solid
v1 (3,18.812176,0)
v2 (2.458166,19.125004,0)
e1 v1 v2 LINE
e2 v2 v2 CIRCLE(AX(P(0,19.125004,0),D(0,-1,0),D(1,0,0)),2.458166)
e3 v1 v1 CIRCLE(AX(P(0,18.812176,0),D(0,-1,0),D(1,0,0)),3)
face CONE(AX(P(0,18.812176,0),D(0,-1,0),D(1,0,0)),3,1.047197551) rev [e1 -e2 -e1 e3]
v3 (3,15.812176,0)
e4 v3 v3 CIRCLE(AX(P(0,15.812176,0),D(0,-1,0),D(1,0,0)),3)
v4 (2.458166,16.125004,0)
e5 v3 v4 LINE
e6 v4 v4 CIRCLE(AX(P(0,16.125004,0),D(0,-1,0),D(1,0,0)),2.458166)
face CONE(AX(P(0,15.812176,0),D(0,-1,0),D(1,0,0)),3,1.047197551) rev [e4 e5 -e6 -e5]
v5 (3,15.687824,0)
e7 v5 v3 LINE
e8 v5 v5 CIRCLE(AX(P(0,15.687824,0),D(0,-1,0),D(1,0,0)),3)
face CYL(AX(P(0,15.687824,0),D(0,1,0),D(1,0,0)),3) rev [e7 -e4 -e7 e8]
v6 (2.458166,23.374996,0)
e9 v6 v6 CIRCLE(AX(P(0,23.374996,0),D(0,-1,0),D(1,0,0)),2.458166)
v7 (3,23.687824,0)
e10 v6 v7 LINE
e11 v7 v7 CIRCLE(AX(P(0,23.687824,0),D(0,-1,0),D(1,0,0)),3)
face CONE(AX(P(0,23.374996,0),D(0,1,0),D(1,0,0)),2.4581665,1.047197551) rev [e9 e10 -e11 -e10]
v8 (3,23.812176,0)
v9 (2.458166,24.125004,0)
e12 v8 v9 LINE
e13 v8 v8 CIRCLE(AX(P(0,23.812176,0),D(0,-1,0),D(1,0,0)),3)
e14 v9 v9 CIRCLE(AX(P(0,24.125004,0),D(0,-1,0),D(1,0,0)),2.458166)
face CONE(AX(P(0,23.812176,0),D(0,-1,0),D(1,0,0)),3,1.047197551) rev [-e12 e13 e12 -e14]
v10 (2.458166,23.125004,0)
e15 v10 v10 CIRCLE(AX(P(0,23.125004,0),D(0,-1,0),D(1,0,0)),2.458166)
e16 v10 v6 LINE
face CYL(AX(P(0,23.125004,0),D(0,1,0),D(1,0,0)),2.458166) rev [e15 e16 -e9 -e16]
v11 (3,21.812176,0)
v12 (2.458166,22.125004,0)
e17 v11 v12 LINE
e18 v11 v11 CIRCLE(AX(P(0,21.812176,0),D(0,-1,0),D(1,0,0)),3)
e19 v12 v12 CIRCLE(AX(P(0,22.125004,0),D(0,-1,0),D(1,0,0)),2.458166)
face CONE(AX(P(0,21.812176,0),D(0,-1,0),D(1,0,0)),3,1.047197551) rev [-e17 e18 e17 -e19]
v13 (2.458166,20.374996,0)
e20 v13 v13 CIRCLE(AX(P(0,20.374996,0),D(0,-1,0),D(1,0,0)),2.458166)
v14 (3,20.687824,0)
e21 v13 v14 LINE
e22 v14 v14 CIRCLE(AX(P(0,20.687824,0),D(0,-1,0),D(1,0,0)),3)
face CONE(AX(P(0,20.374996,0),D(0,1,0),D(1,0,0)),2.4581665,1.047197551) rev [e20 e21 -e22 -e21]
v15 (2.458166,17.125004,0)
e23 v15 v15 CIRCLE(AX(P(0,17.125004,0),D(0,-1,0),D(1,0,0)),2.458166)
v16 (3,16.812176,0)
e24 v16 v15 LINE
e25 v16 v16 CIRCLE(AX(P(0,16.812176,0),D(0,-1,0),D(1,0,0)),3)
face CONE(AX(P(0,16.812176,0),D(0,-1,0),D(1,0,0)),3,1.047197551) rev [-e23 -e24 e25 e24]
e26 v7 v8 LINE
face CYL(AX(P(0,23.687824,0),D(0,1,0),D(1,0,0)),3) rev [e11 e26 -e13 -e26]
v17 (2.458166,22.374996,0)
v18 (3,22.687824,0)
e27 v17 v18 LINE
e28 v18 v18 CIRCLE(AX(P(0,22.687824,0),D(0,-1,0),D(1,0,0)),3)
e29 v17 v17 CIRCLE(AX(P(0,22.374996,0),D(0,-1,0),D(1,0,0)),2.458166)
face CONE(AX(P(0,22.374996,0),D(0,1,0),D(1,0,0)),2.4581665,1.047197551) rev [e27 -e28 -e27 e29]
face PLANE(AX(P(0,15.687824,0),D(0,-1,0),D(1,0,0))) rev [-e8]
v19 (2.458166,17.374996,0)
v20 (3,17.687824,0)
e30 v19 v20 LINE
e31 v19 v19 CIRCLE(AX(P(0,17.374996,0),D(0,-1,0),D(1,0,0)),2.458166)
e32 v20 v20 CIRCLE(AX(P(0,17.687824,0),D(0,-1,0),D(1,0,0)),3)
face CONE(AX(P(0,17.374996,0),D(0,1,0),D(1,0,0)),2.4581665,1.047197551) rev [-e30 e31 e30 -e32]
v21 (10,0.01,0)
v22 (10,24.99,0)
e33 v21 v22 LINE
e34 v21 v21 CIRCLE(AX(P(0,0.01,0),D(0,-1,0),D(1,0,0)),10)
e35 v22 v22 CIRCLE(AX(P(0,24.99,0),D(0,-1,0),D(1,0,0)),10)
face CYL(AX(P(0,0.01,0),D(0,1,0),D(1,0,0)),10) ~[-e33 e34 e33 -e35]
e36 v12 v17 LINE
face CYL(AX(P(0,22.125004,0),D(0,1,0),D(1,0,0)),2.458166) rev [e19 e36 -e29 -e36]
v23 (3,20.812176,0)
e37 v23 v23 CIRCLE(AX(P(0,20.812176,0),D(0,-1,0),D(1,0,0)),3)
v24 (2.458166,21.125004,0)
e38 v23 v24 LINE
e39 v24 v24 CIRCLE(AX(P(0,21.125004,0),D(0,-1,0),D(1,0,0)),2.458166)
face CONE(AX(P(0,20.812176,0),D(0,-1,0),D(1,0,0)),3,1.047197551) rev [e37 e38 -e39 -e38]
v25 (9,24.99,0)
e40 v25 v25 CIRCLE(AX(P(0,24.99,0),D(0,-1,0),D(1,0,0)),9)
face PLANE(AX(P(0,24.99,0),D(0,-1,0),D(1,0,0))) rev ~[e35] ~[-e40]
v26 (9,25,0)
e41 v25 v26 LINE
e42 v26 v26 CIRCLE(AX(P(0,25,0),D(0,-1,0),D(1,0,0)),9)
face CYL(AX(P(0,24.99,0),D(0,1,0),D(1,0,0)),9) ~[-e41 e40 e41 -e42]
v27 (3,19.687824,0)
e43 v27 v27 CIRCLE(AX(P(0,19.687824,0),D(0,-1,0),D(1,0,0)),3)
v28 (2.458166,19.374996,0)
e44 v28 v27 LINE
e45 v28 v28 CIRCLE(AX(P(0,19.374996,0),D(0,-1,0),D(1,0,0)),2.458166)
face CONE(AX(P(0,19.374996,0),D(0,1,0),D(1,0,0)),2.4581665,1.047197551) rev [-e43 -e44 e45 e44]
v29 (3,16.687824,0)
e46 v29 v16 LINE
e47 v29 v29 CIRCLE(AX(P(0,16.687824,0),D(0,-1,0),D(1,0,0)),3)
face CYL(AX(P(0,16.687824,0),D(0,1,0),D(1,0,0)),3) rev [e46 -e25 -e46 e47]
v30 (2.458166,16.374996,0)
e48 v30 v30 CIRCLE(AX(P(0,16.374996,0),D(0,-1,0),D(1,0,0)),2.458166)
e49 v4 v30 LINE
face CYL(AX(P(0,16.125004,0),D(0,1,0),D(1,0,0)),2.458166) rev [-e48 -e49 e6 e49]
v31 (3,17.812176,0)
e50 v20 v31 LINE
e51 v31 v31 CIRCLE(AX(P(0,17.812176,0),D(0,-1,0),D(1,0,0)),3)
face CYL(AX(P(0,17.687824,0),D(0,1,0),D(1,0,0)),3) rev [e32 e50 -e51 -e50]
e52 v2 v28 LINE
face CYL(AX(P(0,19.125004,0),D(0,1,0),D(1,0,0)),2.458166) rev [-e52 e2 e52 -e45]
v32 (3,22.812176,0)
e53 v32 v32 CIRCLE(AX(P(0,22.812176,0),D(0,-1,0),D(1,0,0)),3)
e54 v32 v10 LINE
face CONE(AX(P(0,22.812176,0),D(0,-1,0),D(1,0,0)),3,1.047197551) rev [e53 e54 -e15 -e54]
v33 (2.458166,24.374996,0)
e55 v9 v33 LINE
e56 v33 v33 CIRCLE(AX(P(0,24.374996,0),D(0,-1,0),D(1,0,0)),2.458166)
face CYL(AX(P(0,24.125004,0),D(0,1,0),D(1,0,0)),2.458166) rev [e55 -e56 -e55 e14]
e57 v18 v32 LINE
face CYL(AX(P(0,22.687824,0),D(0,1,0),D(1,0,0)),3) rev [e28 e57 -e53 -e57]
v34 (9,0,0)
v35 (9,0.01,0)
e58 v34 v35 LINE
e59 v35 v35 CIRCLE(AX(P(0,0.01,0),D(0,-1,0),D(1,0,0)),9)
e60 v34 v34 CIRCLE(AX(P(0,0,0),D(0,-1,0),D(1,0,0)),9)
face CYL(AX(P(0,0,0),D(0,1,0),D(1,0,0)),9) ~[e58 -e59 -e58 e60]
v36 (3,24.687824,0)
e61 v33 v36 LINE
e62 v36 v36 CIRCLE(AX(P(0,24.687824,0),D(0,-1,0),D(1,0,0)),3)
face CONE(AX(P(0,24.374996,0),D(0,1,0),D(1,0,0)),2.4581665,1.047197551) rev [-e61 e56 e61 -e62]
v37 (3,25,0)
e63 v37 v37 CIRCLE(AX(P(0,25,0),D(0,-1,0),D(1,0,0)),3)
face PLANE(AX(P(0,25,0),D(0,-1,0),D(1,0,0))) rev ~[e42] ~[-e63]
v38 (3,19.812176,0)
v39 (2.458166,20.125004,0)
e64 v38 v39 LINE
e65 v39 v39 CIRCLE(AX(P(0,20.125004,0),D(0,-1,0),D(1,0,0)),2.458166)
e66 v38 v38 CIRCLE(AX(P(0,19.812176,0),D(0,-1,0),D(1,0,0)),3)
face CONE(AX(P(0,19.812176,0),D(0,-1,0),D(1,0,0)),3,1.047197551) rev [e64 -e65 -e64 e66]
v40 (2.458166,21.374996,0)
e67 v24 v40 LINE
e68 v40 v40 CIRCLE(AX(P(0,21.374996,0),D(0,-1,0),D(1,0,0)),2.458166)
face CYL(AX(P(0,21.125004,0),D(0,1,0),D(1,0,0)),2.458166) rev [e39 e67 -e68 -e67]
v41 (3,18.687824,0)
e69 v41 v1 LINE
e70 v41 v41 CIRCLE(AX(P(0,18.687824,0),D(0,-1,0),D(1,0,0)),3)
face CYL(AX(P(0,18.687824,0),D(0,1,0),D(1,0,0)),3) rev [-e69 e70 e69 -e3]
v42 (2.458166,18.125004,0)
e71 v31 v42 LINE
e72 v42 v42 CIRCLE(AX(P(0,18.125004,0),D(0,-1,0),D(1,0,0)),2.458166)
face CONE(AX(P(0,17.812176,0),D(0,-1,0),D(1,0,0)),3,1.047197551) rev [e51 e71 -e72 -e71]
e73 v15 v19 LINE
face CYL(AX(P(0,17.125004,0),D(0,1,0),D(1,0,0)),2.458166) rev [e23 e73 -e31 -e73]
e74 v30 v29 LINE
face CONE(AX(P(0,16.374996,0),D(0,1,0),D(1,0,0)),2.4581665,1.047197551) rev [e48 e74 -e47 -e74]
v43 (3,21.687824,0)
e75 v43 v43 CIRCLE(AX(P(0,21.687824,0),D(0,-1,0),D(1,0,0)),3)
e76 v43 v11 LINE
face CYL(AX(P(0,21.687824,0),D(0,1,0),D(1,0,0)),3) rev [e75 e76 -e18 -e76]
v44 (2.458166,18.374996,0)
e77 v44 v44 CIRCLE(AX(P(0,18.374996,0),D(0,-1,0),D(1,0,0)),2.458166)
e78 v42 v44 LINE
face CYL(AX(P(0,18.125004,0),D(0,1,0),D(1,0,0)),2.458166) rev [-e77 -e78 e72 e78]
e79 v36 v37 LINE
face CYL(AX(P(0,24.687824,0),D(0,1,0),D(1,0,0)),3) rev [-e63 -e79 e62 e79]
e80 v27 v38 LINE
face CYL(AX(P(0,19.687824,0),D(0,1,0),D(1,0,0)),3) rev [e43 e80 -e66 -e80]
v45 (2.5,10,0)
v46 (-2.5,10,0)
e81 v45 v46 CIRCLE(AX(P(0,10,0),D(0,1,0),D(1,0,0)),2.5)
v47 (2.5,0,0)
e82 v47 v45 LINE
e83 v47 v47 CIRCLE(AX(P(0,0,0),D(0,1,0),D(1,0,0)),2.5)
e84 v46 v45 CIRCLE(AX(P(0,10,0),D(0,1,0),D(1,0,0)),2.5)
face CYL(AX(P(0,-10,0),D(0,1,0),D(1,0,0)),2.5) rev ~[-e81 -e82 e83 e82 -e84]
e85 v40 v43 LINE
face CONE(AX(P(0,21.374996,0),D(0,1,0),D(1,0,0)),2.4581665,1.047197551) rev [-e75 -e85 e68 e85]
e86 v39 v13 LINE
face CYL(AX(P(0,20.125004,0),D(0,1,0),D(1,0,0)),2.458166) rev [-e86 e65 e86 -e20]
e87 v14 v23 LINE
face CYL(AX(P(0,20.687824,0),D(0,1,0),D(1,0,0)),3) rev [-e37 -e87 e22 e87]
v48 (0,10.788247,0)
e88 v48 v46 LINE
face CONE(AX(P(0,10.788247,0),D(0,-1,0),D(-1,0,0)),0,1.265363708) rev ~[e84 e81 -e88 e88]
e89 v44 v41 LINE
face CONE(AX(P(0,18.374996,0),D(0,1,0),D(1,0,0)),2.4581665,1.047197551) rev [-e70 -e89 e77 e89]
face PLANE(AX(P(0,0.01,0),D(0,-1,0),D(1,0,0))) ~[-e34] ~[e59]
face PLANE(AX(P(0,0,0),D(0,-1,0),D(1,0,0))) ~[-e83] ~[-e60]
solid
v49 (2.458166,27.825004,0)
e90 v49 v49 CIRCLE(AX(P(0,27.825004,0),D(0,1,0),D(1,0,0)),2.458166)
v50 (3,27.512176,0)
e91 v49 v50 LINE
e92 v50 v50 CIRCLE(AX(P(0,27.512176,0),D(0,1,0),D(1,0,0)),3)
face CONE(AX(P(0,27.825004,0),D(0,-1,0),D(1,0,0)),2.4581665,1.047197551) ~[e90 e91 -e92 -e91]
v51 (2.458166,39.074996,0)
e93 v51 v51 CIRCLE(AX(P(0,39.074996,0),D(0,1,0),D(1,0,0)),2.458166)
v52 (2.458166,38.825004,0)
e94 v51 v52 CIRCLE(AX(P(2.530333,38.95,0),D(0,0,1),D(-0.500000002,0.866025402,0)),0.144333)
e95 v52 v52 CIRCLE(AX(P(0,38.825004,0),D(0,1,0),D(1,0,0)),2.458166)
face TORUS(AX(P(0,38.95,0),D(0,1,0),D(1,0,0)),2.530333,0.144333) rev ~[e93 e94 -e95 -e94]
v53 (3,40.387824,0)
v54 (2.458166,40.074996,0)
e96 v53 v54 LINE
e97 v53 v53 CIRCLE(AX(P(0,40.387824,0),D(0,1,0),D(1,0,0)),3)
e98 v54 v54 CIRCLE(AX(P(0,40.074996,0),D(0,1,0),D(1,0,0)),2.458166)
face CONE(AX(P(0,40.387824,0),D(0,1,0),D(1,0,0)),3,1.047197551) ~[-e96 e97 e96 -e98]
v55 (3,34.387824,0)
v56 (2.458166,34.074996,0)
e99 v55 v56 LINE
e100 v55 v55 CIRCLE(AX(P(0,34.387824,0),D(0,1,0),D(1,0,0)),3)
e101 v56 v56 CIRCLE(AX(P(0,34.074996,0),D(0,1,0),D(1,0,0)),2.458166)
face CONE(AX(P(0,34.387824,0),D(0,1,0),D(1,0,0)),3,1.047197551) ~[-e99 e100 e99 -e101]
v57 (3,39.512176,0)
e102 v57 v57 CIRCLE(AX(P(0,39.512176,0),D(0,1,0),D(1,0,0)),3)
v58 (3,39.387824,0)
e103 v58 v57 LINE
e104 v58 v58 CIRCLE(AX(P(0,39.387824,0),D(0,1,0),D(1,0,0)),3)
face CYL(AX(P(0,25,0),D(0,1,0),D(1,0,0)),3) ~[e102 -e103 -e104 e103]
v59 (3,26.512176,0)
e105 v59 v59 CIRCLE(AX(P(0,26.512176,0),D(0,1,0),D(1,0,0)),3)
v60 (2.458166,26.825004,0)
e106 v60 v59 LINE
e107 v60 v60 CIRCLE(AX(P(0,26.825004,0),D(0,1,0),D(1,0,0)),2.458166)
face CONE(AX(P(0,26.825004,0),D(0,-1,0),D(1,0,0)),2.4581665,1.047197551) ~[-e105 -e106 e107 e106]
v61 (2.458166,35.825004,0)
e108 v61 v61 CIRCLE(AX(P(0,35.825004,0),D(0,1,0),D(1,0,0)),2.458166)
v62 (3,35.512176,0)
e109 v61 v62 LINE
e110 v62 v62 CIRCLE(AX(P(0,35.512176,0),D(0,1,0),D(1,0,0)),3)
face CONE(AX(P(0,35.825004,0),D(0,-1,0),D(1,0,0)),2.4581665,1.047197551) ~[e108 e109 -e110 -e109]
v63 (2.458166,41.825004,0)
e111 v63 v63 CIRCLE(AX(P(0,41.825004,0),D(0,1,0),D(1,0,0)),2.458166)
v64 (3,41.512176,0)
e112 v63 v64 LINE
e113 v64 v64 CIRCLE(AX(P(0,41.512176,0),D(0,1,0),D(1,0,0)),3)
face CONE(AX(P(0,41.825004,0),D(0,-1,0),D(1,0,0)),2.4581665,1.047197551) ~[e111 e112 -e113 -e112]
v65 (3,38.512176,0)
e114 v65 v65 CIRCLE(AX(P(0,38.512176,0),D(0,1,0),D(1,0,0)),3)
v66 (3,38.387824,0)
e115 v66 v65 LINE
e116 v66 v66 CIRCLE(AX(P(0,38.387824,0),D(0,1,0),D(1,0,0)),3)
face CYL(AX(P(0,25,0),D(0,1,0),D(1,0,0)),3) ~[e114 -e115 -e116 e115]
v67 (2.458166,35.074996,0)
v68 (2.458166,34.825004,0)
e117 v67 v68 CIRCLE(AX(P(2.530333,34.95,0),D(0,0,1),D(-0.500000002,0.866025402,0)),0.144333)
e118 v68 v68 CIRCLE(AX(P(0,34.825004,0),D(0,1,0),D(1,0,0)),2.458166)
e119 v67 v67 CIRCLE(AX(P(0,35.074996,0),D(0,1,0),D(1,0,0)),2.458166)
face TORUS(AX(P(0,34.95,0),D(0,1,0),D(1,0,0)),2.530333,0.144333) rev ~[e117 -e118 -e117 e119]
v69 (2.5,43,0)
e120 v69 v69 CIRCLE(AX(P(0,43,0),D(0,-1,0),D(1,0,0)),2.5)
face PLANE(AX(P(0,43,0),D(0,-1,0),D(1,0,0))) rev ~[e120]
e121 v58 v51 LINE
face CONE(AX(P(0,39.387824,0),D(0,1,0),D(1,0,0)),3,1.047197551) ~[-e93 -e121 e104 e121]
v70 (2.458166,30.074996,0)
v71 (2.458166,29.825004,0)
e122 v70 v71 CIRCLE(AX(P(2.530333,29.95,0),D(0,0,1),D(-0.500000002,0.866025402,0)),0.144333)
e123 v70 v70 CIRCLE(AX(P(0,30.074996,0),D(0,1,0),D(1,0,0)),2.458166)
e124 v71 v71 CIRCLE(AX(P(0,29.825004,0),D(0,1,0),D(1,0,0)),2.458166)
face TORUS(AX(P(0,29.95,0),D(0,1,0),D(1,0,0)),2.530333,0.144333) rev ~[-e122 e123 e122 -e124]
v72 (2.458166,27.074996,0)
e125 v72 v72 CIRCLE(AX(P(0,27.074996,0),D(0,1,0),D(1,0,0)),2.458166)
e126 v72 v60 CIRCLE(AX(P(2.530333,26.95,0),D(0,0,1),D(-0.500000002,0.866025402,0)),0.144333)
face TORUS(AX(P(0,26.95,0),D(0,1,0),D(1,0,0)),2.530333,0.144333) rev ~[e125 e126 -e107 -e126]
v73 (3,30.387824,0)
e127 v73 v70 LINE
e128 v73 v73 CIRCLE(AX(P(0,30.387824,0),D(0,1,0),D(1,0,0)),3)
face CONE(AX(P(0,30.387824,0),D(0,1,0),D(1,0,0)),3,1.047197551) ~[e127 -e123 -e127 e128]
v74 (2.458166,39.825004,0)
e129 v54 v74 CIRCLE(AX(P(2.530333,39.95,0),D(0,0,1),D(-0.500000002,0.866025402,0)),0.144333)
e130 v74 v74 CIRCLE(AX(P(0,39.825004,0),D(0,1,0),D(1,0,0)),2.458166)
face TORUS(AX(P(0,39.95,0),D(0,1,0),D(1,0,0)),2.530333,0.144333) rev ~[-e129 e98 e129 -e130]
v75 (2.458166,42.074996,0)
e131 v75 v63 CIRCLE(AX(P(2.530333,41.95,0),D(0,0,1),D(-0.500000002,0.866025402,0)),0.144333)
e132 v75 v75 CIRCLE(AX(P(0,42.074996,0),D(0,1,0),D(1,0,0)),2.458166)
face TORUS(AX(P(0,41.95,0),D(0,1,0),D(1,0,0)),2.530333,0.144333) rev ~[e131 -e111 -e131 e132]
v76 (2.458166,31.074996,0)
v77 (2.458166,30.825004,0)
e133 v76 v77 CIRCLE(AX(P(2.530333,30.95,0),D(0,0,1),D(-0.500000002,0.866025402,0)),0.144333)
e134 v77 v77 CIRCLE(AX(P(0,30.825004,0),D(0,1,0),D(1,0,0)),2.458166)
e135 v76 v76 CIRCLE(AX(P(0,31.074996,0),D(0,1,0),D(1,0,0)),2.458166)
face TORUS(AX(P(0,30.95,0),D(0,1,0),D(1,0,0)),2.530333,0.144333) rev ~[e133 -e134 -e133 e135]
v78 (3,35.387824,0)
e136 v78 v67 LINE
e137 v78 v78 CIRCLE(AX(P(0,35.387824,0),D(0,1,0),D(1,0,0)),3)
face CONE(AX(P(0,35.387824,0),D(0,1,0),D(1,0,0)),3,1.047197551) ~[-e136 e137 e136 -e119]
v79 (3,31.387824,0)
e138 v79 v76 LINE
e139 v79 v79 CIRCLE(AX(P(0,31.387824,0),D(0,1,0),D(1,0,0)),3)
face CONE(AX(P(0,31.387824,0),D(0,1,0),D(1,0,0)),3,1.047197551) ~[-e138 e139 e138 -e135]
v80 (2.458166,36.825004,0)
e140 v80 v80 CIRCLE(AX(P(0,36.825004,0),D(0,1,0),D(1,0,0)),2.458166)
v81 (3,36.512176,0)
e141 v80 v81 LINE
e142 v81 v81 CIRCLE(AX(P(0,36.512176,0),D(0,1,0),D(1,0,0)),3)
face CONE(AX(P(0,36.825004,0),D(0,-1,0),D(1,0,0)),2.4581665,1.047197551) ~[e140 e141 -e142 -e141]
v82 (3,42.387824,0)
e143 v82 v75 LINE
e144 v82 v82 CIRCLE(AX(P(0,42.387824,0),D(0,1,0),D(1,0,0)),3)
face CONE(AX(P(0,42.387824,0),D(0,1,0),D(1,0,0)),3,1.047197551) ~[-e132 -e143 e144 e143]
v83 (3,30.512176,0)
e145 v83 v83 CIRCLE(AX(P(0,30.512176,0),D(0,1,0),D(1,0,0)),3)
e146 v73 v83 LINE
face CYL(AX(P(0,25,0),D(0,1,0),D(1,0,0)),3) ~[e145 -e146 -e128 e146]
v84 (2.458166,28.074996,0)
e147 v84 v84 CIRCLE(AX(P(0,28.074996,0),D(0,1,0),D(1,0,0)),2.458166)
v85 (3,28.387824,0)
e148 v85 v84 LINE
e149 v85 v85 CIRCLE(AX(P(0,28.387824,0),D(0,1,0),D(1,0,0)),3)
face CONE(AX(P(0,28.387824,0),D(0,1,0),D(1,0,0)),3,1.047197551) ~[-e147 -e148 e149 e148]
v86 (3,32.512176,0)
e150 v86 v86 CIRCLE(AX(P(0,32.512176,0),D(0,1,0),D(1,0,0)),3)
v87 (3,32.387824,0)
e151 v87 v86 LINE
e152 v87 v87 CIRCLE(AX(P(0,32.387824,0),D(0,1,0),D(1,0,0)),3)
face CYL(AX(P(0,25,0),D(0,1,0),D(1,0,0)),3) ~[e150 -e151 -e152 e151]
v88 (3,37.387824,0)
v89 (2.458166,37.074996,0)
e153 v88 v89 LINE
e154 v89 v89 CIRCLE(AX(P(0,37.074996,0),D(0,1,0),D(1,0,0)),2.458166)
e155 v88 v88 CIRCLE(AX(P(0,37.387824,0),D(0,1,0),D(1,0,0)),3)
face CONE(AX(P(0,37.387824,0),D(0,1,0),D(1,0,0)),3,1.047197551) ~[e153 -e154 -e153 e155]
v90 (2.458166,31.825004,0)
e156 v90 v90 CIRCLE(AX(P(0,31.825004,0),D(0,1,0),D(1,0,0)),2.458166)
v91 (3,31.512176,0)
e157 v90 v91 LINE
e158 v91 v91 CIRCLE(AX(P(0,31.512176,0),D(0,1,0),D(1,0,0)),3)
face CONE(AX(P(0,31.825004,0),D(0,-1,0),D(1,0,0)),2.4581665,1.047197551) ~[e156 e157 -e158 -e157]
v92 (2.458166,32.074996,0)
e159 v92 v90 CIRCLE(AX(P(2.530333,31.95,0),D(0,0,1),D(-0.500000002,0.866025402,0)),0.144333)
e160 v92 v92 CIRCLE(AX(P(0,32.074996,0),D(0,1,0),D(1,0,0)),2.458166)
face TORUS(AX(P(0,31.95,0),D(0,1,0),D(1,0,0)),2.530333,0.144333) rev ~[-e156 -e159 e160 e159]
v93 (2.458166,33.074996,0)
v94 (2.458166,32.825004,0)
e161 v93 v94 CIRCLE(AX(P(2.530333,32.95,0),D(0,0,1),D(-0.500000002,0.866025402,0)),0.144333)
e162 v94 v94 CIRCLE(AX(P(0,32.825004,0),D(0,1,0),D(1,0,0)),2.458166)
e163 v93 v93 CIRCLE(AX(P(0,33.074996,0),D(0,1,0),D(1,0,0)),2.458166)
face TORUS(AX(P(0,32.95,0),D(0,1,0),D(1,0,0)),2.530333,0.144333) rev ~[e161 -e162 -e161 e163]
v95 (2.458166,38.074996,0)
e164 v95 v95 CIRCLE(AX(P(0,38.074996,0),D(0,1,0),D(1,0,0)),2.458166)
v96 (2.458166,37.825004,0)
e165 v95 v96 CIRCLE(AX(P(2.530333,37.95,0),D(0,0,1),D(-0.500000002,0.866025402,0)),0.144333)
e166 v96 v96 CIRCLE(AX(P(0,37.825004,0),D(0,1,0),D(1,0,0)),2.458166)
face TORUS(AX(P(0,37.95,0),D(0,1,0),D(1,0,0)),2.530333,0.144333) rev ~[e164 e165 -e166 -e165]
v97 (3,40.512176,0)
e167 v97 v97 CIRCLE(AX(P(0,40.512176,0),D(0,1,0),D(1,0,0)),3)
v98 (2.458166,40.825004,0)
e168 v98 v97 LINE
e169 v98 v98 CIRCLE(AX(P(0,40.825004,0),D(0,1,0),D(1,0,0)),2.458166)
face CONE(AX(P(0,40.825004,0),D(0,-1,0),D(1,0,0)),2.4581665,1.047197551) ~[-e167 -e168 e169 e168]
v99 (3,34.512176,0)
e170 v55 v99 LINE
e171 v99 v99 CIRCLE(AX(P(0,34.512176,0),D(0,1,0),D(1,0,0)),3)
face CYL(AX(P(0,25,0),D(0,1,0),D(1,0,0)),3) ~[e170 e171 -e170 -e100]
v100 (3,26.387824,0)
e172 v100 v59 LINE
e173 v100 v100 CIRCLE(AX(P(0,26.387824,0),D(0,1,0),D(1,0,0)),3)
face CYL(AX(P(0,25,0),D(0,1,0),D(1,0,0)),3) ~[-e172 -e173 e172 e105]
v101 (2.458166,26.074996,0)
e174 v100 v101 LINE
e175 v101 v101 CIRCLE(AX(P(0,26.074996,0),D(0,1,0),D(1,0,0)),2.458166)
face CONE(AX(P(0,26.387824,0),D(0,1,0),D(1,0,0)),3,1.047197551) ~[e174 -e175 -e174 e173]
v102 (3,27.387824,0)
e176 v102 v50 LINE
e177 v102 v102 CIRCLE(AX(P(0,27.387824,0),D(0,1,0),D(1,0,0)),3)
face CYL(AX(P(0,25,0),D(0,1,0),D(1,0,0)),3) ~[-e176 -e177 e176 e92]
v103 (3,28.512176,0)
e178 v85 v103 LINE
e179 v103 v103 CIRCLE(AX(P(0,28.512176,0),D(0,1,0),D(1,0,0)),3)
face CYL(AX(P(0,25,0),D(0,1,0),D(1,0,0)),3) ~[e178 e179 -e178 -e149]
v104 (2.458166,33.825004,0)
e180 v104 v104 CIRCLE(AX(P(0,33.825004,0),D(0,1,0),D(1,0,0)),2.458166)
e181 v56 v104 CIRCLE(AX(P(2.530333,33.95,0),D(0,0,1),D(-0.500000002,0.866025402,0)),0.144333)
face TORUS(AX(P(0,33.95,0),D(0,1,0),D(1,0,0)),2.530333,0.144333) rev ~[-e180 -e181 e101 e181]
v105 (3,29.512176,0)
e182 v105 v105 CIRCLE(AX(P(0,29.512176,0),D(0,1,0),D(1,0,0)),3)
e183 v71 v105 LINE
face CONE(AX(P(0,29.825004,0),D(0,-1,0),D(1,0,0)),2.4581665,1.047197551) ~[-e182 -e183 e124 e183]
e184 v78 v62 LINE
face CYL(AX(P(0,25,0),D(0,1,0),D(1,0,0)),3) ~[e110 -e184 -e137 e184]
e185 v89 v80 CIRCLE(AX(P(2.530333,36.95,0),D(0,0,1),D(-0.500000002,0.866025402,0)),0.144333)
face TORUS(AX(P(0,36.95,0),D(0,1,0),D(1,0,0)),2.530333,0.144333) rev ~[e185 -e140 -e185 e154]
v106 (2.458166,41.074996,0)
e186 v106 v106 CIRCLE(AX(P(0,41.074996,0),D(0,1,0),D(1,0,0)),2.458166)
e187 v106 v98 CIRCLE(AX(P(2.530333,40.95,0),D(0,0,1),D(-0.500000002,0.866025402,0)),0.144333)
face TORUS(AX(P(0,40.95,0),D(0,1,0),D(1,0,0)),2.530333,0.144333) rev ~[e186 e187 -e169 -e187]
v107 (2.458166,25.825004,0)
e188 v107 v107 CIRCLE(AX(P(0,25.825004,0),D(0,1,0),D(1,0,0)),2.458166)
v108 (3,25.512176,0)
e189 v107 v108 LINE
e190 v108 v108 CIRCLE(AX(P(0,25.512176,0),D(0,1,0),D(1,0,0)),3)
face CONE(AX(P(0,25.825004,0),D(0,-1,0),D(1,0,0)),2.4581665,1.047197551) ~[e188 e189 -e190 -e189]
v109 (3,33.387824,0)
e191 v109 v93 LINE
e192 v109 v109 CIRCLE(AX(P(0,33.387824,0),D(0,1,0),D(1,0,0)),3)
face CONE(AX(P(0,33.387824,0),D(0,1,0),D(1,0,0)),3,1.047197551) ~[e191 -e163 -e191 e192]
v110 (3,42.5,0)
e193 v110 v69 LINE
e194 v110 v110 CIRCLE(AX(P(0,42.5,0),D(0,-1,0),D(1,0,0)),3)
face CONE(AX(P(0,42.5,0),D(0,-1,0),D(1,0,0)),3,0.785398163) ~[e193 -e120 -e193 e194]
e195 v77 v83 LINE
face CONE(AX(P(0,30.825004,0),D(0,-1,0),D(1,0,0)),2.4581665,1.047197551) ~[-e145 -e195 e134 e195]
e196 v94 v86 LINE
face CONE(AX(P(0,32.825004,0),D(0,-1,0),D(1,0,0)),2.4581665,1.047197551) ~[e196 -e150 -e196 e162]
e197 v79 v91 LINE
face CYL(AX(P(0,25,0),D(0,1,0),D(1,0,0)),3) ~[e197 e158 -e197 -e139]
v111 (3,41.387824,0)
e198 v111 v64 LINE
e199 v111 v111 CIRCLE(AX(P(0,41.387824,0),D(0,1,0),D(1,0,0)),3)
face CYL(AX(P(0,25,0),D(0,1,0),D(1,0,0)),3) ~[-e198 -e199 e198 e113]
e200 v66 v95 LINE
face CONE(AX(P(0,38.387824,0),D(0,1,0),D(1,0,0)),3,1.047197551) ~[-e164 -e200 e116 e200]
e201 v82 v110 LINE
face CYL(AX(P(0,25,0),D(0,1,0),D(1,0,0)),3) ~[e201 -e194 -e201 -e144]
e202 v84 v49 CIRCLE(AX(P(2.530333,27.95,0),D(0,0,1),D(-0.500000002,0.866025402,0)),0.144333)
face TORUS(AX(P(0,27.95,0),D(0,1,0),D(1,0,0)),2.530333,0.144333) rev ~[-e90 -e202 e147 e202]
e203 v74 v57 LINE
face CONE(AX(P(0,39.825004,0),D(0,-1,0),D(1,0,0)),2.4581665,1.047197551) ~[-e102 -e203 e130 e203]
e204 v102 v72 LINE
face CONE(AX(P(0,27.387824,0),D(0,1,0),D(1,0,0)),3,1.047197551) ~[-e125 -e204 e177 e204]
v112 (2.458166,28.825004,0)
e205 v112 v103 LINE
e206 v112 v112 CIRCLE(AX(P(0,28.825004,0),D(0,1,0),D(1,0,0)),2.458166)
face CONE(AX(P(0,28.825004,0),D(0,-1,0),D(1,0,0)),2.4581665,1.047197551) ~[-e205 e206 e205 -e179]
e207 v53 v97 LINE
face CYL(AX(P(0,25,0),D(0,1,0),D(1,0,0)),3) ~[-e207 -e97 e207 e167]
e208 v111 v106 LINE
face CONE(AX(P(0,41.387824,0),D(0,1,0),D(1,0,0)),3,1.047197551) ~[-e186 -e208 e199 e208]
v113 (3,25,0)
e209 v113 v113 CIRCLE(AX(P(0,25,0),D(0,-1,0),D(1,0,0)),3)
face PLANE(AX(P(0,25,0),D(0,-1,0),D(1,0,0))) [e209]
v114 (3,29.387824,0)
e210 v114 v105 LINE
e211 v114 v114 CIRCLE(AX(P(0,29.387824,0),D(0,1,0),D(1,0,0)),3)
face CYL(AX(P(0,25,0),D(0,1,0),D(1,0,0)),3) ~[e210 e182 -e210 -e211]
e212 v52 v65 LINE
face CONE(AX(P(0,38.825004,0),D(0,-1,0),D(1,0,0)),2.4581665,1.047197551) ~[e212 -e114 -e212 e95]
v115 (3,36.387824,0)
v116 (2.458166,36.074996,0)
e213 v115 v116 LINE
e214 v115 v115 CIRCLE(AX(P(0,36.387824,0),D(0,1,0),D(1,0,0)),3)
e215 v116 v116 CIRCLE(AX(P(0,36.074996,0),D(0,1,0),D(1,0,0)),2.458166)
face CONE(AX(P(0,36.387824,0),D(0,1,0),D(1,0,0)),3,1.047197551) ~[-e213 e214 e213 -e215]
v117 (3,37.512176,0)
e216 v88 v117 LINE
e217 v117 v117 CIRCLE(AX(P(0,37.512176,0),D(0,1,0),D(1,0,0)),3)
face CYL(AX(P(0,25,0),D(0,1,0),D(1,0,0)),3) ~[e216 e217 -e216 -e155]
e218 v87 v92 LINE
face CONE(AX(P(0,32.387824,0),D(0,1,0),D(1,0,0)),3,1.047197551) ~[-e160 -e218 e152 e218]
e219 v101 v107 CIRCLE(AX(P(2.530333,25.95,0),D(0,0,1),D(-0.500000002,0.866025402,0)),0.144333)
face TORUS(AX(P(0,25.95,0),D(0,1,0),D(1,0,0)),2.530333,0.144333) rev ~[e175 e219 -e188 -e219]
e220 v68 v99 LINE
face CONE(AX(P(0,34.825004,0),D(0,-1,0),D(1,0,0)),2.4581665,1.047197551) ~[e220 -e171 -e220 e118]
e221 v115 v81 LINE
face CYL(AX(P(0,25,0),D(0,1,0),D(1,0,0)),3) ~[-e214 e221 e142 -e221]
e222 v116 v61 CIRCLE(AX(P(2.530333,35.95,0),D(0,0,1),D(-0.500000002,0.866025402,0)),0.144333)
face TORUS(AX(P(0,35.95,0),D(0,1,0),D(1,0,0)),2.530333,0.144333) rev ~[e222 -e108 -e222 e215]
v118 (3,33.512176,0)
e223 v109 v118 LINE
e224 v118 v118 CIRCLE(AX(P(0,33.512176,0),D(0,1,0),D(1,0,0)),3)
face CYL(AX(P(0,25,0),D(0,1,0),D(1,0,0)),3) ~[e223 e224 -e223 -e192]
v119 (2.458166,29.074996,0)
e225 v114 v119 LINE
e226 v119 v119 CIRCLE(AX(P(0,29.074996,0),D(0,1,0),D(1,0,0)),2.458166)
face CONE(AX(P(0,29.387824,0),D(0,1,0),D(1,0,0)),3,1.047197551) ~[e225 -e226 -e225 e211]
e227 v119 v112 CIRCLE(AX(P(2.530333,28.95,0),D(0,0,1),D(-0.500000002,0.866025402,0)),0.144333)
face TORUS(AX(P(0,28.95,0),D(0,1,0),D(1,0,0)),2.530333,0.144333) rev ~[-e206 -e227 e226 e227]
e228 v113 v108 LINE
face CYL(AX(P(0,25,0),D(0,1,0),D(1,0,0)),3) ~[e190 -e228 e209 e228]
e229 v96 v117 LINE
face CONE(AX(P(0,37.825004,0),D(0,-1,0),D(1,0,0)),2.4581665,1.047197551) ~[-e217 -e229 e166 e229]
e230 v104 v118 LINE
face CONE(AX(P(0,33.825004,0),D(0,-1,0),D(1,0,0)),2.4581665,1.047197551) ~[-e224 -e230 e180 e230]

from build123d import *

# Parameters (mm, degrees)
CHAMFER1_SIZE         = 0.5
LPATTERN1_COUNT       = 17
LPATTERN1_PITCH       = 1
M6_TAPPED_HOLE1_D     = 5
M6_TAPPED_HOLE1_DEPTH = 10
M6_TAPPED_HOLE1_TIP   = 0.788246972


with BuildPart() as part:
    # Sketch1 → Revolve1 (revolve)
    with BuildSketch(Plane.XY):
        Polygon((0, 0), (9, 0), (9, 0.01), (10, 0.01), (10, 24.99), (9, 24.99), (9, 25), (3, 25), (3, 43), (0, 43), align=None)
    revolve(axis=Axis((0, 0, 0), (0, -1, 0)))

    # Chamfer1
    chamfer1_edges = [part.edges().sort_by_distance(p)[0] for p in [
        (-3, 43, 0),
    ]]
    chamfer(chamfer1_edges, length=CHAMFER1_SIZE)

    # Sketch2 → Cut-Revolve1 (revolve, cut)
    with BuildSketch(Plane.XY):
        with BuildLine():
            Line((3, 26.387823762), (2.4581665, 26.074996045))
            ThreePointArc((2.4581665, 26.074996045), (2.386, 25.95), (2.4581665, 25.825003955))
            Line((2.4581665, 25.825003955), (3, 25.512176238))
            Line((3, 25.512176238), (3, 26.387823762))
        make_face()
    cut_revolve1 = revolve(axis=Axis((0, 0, 0), (0, 1, 0)), mode=Mode.SUBTRACT)

    # LPattern1: Cut-Revolve1 ×17
    with Locations(*[(0, i * LPATTERN1_PITCH, 0) for i in range(1, LPATTERN1_COUNT)]):
        add(cut_revolve1, mode=Mode.SUBTRACT)

    # M6 Tapped Hole1
    with Locations(Plane(origin=(0, 0, 0), x_dir=(-1, 0, 0), z_dir=(0, -1, 0))):
        with Locations((0, 0)):
            Hole(M6_TAPPED_HOLE1_D / 2, depth=M6_TAPPED_HOLE1_DEPTH)
            with Locations((0, 0, -(M6_TAPPED_HOLE1_DEPTH + M6_TAPPED_HOLE1_TIP / 2))):  # 145° drill point
                Cone(0, M6_TAPPED_HOLE1_D / 2, M6_TAPPED_HOLE1_TIP, mode=Mode.SUBTRACT)

    # Sketch11 → Cut-Revolve3 (revolve, cut)
    with BuildSketch(Plane.XY):
        Polygon((0, 25), (0, 15.687823762), (3, 15.687823762), (3, 15.812176238), (2.4581665, 16.125003955), (2.4581665, 16.374996045), (3, 16.687823762), (3, 16.812176238), (2.4581665, 17.125003955), (2.4581665, 17.374996045), (3, 17.687823762), (3, 17.812176238), (2.4581665, 18.125003955), (2.4581665, 18.374996045), (3, 18.687823762), (3, 18.812176238), (2.4581665, 19.125003955), (2.4581665, 19.374996045), (3, 19.687823762), (3, 19.812176238), (2.4581665, 20.125003955), (2.4581665, 20.374996045), (3, 20.687823762), (3, 20.812176238), (2.4581665, 21.125003955), (2.4581665, 21.374996045), (3, 21.687823762), (3, 21.812176238), (2.4581665, 22.125003955), (2.4581665, 22.374996045), (3, 22.687823762), (3, 22.812176238), (2.4581665, 23.125003955), (2.4581665, 23.374996045), (3, 23.687823762), (3, 23.812176238), (2.4581665, 24.125003955), (2.4581665, 24.374996045), (3, 24.687823762), (3, 25), align=None)
    revolve(axis=Axis((0, 25, 0), (0, -1, 0)), mode=Mode.SUBTRACT)


with BuildPart() as cut_revolve3_piece_1:
    # of the separate pieces the step leaves, piece 1, a body of its own (cut_revolve3_pieces)
    add(part.part.solids().sort_by_distance((9, 25, 0))[0])


with BuildPart() as cut_revolve3_piece_2:
    # of the separate pieces the step leaves, piece 2, a body of its own (cut_revolve3_pieces)
    add(part.part.solids().sort_by_distance((3, 25.512176238, 0))[0])


solid = Compound([cut_revolve3_piece_1.part, cut_revolve3_piece_2.part])
